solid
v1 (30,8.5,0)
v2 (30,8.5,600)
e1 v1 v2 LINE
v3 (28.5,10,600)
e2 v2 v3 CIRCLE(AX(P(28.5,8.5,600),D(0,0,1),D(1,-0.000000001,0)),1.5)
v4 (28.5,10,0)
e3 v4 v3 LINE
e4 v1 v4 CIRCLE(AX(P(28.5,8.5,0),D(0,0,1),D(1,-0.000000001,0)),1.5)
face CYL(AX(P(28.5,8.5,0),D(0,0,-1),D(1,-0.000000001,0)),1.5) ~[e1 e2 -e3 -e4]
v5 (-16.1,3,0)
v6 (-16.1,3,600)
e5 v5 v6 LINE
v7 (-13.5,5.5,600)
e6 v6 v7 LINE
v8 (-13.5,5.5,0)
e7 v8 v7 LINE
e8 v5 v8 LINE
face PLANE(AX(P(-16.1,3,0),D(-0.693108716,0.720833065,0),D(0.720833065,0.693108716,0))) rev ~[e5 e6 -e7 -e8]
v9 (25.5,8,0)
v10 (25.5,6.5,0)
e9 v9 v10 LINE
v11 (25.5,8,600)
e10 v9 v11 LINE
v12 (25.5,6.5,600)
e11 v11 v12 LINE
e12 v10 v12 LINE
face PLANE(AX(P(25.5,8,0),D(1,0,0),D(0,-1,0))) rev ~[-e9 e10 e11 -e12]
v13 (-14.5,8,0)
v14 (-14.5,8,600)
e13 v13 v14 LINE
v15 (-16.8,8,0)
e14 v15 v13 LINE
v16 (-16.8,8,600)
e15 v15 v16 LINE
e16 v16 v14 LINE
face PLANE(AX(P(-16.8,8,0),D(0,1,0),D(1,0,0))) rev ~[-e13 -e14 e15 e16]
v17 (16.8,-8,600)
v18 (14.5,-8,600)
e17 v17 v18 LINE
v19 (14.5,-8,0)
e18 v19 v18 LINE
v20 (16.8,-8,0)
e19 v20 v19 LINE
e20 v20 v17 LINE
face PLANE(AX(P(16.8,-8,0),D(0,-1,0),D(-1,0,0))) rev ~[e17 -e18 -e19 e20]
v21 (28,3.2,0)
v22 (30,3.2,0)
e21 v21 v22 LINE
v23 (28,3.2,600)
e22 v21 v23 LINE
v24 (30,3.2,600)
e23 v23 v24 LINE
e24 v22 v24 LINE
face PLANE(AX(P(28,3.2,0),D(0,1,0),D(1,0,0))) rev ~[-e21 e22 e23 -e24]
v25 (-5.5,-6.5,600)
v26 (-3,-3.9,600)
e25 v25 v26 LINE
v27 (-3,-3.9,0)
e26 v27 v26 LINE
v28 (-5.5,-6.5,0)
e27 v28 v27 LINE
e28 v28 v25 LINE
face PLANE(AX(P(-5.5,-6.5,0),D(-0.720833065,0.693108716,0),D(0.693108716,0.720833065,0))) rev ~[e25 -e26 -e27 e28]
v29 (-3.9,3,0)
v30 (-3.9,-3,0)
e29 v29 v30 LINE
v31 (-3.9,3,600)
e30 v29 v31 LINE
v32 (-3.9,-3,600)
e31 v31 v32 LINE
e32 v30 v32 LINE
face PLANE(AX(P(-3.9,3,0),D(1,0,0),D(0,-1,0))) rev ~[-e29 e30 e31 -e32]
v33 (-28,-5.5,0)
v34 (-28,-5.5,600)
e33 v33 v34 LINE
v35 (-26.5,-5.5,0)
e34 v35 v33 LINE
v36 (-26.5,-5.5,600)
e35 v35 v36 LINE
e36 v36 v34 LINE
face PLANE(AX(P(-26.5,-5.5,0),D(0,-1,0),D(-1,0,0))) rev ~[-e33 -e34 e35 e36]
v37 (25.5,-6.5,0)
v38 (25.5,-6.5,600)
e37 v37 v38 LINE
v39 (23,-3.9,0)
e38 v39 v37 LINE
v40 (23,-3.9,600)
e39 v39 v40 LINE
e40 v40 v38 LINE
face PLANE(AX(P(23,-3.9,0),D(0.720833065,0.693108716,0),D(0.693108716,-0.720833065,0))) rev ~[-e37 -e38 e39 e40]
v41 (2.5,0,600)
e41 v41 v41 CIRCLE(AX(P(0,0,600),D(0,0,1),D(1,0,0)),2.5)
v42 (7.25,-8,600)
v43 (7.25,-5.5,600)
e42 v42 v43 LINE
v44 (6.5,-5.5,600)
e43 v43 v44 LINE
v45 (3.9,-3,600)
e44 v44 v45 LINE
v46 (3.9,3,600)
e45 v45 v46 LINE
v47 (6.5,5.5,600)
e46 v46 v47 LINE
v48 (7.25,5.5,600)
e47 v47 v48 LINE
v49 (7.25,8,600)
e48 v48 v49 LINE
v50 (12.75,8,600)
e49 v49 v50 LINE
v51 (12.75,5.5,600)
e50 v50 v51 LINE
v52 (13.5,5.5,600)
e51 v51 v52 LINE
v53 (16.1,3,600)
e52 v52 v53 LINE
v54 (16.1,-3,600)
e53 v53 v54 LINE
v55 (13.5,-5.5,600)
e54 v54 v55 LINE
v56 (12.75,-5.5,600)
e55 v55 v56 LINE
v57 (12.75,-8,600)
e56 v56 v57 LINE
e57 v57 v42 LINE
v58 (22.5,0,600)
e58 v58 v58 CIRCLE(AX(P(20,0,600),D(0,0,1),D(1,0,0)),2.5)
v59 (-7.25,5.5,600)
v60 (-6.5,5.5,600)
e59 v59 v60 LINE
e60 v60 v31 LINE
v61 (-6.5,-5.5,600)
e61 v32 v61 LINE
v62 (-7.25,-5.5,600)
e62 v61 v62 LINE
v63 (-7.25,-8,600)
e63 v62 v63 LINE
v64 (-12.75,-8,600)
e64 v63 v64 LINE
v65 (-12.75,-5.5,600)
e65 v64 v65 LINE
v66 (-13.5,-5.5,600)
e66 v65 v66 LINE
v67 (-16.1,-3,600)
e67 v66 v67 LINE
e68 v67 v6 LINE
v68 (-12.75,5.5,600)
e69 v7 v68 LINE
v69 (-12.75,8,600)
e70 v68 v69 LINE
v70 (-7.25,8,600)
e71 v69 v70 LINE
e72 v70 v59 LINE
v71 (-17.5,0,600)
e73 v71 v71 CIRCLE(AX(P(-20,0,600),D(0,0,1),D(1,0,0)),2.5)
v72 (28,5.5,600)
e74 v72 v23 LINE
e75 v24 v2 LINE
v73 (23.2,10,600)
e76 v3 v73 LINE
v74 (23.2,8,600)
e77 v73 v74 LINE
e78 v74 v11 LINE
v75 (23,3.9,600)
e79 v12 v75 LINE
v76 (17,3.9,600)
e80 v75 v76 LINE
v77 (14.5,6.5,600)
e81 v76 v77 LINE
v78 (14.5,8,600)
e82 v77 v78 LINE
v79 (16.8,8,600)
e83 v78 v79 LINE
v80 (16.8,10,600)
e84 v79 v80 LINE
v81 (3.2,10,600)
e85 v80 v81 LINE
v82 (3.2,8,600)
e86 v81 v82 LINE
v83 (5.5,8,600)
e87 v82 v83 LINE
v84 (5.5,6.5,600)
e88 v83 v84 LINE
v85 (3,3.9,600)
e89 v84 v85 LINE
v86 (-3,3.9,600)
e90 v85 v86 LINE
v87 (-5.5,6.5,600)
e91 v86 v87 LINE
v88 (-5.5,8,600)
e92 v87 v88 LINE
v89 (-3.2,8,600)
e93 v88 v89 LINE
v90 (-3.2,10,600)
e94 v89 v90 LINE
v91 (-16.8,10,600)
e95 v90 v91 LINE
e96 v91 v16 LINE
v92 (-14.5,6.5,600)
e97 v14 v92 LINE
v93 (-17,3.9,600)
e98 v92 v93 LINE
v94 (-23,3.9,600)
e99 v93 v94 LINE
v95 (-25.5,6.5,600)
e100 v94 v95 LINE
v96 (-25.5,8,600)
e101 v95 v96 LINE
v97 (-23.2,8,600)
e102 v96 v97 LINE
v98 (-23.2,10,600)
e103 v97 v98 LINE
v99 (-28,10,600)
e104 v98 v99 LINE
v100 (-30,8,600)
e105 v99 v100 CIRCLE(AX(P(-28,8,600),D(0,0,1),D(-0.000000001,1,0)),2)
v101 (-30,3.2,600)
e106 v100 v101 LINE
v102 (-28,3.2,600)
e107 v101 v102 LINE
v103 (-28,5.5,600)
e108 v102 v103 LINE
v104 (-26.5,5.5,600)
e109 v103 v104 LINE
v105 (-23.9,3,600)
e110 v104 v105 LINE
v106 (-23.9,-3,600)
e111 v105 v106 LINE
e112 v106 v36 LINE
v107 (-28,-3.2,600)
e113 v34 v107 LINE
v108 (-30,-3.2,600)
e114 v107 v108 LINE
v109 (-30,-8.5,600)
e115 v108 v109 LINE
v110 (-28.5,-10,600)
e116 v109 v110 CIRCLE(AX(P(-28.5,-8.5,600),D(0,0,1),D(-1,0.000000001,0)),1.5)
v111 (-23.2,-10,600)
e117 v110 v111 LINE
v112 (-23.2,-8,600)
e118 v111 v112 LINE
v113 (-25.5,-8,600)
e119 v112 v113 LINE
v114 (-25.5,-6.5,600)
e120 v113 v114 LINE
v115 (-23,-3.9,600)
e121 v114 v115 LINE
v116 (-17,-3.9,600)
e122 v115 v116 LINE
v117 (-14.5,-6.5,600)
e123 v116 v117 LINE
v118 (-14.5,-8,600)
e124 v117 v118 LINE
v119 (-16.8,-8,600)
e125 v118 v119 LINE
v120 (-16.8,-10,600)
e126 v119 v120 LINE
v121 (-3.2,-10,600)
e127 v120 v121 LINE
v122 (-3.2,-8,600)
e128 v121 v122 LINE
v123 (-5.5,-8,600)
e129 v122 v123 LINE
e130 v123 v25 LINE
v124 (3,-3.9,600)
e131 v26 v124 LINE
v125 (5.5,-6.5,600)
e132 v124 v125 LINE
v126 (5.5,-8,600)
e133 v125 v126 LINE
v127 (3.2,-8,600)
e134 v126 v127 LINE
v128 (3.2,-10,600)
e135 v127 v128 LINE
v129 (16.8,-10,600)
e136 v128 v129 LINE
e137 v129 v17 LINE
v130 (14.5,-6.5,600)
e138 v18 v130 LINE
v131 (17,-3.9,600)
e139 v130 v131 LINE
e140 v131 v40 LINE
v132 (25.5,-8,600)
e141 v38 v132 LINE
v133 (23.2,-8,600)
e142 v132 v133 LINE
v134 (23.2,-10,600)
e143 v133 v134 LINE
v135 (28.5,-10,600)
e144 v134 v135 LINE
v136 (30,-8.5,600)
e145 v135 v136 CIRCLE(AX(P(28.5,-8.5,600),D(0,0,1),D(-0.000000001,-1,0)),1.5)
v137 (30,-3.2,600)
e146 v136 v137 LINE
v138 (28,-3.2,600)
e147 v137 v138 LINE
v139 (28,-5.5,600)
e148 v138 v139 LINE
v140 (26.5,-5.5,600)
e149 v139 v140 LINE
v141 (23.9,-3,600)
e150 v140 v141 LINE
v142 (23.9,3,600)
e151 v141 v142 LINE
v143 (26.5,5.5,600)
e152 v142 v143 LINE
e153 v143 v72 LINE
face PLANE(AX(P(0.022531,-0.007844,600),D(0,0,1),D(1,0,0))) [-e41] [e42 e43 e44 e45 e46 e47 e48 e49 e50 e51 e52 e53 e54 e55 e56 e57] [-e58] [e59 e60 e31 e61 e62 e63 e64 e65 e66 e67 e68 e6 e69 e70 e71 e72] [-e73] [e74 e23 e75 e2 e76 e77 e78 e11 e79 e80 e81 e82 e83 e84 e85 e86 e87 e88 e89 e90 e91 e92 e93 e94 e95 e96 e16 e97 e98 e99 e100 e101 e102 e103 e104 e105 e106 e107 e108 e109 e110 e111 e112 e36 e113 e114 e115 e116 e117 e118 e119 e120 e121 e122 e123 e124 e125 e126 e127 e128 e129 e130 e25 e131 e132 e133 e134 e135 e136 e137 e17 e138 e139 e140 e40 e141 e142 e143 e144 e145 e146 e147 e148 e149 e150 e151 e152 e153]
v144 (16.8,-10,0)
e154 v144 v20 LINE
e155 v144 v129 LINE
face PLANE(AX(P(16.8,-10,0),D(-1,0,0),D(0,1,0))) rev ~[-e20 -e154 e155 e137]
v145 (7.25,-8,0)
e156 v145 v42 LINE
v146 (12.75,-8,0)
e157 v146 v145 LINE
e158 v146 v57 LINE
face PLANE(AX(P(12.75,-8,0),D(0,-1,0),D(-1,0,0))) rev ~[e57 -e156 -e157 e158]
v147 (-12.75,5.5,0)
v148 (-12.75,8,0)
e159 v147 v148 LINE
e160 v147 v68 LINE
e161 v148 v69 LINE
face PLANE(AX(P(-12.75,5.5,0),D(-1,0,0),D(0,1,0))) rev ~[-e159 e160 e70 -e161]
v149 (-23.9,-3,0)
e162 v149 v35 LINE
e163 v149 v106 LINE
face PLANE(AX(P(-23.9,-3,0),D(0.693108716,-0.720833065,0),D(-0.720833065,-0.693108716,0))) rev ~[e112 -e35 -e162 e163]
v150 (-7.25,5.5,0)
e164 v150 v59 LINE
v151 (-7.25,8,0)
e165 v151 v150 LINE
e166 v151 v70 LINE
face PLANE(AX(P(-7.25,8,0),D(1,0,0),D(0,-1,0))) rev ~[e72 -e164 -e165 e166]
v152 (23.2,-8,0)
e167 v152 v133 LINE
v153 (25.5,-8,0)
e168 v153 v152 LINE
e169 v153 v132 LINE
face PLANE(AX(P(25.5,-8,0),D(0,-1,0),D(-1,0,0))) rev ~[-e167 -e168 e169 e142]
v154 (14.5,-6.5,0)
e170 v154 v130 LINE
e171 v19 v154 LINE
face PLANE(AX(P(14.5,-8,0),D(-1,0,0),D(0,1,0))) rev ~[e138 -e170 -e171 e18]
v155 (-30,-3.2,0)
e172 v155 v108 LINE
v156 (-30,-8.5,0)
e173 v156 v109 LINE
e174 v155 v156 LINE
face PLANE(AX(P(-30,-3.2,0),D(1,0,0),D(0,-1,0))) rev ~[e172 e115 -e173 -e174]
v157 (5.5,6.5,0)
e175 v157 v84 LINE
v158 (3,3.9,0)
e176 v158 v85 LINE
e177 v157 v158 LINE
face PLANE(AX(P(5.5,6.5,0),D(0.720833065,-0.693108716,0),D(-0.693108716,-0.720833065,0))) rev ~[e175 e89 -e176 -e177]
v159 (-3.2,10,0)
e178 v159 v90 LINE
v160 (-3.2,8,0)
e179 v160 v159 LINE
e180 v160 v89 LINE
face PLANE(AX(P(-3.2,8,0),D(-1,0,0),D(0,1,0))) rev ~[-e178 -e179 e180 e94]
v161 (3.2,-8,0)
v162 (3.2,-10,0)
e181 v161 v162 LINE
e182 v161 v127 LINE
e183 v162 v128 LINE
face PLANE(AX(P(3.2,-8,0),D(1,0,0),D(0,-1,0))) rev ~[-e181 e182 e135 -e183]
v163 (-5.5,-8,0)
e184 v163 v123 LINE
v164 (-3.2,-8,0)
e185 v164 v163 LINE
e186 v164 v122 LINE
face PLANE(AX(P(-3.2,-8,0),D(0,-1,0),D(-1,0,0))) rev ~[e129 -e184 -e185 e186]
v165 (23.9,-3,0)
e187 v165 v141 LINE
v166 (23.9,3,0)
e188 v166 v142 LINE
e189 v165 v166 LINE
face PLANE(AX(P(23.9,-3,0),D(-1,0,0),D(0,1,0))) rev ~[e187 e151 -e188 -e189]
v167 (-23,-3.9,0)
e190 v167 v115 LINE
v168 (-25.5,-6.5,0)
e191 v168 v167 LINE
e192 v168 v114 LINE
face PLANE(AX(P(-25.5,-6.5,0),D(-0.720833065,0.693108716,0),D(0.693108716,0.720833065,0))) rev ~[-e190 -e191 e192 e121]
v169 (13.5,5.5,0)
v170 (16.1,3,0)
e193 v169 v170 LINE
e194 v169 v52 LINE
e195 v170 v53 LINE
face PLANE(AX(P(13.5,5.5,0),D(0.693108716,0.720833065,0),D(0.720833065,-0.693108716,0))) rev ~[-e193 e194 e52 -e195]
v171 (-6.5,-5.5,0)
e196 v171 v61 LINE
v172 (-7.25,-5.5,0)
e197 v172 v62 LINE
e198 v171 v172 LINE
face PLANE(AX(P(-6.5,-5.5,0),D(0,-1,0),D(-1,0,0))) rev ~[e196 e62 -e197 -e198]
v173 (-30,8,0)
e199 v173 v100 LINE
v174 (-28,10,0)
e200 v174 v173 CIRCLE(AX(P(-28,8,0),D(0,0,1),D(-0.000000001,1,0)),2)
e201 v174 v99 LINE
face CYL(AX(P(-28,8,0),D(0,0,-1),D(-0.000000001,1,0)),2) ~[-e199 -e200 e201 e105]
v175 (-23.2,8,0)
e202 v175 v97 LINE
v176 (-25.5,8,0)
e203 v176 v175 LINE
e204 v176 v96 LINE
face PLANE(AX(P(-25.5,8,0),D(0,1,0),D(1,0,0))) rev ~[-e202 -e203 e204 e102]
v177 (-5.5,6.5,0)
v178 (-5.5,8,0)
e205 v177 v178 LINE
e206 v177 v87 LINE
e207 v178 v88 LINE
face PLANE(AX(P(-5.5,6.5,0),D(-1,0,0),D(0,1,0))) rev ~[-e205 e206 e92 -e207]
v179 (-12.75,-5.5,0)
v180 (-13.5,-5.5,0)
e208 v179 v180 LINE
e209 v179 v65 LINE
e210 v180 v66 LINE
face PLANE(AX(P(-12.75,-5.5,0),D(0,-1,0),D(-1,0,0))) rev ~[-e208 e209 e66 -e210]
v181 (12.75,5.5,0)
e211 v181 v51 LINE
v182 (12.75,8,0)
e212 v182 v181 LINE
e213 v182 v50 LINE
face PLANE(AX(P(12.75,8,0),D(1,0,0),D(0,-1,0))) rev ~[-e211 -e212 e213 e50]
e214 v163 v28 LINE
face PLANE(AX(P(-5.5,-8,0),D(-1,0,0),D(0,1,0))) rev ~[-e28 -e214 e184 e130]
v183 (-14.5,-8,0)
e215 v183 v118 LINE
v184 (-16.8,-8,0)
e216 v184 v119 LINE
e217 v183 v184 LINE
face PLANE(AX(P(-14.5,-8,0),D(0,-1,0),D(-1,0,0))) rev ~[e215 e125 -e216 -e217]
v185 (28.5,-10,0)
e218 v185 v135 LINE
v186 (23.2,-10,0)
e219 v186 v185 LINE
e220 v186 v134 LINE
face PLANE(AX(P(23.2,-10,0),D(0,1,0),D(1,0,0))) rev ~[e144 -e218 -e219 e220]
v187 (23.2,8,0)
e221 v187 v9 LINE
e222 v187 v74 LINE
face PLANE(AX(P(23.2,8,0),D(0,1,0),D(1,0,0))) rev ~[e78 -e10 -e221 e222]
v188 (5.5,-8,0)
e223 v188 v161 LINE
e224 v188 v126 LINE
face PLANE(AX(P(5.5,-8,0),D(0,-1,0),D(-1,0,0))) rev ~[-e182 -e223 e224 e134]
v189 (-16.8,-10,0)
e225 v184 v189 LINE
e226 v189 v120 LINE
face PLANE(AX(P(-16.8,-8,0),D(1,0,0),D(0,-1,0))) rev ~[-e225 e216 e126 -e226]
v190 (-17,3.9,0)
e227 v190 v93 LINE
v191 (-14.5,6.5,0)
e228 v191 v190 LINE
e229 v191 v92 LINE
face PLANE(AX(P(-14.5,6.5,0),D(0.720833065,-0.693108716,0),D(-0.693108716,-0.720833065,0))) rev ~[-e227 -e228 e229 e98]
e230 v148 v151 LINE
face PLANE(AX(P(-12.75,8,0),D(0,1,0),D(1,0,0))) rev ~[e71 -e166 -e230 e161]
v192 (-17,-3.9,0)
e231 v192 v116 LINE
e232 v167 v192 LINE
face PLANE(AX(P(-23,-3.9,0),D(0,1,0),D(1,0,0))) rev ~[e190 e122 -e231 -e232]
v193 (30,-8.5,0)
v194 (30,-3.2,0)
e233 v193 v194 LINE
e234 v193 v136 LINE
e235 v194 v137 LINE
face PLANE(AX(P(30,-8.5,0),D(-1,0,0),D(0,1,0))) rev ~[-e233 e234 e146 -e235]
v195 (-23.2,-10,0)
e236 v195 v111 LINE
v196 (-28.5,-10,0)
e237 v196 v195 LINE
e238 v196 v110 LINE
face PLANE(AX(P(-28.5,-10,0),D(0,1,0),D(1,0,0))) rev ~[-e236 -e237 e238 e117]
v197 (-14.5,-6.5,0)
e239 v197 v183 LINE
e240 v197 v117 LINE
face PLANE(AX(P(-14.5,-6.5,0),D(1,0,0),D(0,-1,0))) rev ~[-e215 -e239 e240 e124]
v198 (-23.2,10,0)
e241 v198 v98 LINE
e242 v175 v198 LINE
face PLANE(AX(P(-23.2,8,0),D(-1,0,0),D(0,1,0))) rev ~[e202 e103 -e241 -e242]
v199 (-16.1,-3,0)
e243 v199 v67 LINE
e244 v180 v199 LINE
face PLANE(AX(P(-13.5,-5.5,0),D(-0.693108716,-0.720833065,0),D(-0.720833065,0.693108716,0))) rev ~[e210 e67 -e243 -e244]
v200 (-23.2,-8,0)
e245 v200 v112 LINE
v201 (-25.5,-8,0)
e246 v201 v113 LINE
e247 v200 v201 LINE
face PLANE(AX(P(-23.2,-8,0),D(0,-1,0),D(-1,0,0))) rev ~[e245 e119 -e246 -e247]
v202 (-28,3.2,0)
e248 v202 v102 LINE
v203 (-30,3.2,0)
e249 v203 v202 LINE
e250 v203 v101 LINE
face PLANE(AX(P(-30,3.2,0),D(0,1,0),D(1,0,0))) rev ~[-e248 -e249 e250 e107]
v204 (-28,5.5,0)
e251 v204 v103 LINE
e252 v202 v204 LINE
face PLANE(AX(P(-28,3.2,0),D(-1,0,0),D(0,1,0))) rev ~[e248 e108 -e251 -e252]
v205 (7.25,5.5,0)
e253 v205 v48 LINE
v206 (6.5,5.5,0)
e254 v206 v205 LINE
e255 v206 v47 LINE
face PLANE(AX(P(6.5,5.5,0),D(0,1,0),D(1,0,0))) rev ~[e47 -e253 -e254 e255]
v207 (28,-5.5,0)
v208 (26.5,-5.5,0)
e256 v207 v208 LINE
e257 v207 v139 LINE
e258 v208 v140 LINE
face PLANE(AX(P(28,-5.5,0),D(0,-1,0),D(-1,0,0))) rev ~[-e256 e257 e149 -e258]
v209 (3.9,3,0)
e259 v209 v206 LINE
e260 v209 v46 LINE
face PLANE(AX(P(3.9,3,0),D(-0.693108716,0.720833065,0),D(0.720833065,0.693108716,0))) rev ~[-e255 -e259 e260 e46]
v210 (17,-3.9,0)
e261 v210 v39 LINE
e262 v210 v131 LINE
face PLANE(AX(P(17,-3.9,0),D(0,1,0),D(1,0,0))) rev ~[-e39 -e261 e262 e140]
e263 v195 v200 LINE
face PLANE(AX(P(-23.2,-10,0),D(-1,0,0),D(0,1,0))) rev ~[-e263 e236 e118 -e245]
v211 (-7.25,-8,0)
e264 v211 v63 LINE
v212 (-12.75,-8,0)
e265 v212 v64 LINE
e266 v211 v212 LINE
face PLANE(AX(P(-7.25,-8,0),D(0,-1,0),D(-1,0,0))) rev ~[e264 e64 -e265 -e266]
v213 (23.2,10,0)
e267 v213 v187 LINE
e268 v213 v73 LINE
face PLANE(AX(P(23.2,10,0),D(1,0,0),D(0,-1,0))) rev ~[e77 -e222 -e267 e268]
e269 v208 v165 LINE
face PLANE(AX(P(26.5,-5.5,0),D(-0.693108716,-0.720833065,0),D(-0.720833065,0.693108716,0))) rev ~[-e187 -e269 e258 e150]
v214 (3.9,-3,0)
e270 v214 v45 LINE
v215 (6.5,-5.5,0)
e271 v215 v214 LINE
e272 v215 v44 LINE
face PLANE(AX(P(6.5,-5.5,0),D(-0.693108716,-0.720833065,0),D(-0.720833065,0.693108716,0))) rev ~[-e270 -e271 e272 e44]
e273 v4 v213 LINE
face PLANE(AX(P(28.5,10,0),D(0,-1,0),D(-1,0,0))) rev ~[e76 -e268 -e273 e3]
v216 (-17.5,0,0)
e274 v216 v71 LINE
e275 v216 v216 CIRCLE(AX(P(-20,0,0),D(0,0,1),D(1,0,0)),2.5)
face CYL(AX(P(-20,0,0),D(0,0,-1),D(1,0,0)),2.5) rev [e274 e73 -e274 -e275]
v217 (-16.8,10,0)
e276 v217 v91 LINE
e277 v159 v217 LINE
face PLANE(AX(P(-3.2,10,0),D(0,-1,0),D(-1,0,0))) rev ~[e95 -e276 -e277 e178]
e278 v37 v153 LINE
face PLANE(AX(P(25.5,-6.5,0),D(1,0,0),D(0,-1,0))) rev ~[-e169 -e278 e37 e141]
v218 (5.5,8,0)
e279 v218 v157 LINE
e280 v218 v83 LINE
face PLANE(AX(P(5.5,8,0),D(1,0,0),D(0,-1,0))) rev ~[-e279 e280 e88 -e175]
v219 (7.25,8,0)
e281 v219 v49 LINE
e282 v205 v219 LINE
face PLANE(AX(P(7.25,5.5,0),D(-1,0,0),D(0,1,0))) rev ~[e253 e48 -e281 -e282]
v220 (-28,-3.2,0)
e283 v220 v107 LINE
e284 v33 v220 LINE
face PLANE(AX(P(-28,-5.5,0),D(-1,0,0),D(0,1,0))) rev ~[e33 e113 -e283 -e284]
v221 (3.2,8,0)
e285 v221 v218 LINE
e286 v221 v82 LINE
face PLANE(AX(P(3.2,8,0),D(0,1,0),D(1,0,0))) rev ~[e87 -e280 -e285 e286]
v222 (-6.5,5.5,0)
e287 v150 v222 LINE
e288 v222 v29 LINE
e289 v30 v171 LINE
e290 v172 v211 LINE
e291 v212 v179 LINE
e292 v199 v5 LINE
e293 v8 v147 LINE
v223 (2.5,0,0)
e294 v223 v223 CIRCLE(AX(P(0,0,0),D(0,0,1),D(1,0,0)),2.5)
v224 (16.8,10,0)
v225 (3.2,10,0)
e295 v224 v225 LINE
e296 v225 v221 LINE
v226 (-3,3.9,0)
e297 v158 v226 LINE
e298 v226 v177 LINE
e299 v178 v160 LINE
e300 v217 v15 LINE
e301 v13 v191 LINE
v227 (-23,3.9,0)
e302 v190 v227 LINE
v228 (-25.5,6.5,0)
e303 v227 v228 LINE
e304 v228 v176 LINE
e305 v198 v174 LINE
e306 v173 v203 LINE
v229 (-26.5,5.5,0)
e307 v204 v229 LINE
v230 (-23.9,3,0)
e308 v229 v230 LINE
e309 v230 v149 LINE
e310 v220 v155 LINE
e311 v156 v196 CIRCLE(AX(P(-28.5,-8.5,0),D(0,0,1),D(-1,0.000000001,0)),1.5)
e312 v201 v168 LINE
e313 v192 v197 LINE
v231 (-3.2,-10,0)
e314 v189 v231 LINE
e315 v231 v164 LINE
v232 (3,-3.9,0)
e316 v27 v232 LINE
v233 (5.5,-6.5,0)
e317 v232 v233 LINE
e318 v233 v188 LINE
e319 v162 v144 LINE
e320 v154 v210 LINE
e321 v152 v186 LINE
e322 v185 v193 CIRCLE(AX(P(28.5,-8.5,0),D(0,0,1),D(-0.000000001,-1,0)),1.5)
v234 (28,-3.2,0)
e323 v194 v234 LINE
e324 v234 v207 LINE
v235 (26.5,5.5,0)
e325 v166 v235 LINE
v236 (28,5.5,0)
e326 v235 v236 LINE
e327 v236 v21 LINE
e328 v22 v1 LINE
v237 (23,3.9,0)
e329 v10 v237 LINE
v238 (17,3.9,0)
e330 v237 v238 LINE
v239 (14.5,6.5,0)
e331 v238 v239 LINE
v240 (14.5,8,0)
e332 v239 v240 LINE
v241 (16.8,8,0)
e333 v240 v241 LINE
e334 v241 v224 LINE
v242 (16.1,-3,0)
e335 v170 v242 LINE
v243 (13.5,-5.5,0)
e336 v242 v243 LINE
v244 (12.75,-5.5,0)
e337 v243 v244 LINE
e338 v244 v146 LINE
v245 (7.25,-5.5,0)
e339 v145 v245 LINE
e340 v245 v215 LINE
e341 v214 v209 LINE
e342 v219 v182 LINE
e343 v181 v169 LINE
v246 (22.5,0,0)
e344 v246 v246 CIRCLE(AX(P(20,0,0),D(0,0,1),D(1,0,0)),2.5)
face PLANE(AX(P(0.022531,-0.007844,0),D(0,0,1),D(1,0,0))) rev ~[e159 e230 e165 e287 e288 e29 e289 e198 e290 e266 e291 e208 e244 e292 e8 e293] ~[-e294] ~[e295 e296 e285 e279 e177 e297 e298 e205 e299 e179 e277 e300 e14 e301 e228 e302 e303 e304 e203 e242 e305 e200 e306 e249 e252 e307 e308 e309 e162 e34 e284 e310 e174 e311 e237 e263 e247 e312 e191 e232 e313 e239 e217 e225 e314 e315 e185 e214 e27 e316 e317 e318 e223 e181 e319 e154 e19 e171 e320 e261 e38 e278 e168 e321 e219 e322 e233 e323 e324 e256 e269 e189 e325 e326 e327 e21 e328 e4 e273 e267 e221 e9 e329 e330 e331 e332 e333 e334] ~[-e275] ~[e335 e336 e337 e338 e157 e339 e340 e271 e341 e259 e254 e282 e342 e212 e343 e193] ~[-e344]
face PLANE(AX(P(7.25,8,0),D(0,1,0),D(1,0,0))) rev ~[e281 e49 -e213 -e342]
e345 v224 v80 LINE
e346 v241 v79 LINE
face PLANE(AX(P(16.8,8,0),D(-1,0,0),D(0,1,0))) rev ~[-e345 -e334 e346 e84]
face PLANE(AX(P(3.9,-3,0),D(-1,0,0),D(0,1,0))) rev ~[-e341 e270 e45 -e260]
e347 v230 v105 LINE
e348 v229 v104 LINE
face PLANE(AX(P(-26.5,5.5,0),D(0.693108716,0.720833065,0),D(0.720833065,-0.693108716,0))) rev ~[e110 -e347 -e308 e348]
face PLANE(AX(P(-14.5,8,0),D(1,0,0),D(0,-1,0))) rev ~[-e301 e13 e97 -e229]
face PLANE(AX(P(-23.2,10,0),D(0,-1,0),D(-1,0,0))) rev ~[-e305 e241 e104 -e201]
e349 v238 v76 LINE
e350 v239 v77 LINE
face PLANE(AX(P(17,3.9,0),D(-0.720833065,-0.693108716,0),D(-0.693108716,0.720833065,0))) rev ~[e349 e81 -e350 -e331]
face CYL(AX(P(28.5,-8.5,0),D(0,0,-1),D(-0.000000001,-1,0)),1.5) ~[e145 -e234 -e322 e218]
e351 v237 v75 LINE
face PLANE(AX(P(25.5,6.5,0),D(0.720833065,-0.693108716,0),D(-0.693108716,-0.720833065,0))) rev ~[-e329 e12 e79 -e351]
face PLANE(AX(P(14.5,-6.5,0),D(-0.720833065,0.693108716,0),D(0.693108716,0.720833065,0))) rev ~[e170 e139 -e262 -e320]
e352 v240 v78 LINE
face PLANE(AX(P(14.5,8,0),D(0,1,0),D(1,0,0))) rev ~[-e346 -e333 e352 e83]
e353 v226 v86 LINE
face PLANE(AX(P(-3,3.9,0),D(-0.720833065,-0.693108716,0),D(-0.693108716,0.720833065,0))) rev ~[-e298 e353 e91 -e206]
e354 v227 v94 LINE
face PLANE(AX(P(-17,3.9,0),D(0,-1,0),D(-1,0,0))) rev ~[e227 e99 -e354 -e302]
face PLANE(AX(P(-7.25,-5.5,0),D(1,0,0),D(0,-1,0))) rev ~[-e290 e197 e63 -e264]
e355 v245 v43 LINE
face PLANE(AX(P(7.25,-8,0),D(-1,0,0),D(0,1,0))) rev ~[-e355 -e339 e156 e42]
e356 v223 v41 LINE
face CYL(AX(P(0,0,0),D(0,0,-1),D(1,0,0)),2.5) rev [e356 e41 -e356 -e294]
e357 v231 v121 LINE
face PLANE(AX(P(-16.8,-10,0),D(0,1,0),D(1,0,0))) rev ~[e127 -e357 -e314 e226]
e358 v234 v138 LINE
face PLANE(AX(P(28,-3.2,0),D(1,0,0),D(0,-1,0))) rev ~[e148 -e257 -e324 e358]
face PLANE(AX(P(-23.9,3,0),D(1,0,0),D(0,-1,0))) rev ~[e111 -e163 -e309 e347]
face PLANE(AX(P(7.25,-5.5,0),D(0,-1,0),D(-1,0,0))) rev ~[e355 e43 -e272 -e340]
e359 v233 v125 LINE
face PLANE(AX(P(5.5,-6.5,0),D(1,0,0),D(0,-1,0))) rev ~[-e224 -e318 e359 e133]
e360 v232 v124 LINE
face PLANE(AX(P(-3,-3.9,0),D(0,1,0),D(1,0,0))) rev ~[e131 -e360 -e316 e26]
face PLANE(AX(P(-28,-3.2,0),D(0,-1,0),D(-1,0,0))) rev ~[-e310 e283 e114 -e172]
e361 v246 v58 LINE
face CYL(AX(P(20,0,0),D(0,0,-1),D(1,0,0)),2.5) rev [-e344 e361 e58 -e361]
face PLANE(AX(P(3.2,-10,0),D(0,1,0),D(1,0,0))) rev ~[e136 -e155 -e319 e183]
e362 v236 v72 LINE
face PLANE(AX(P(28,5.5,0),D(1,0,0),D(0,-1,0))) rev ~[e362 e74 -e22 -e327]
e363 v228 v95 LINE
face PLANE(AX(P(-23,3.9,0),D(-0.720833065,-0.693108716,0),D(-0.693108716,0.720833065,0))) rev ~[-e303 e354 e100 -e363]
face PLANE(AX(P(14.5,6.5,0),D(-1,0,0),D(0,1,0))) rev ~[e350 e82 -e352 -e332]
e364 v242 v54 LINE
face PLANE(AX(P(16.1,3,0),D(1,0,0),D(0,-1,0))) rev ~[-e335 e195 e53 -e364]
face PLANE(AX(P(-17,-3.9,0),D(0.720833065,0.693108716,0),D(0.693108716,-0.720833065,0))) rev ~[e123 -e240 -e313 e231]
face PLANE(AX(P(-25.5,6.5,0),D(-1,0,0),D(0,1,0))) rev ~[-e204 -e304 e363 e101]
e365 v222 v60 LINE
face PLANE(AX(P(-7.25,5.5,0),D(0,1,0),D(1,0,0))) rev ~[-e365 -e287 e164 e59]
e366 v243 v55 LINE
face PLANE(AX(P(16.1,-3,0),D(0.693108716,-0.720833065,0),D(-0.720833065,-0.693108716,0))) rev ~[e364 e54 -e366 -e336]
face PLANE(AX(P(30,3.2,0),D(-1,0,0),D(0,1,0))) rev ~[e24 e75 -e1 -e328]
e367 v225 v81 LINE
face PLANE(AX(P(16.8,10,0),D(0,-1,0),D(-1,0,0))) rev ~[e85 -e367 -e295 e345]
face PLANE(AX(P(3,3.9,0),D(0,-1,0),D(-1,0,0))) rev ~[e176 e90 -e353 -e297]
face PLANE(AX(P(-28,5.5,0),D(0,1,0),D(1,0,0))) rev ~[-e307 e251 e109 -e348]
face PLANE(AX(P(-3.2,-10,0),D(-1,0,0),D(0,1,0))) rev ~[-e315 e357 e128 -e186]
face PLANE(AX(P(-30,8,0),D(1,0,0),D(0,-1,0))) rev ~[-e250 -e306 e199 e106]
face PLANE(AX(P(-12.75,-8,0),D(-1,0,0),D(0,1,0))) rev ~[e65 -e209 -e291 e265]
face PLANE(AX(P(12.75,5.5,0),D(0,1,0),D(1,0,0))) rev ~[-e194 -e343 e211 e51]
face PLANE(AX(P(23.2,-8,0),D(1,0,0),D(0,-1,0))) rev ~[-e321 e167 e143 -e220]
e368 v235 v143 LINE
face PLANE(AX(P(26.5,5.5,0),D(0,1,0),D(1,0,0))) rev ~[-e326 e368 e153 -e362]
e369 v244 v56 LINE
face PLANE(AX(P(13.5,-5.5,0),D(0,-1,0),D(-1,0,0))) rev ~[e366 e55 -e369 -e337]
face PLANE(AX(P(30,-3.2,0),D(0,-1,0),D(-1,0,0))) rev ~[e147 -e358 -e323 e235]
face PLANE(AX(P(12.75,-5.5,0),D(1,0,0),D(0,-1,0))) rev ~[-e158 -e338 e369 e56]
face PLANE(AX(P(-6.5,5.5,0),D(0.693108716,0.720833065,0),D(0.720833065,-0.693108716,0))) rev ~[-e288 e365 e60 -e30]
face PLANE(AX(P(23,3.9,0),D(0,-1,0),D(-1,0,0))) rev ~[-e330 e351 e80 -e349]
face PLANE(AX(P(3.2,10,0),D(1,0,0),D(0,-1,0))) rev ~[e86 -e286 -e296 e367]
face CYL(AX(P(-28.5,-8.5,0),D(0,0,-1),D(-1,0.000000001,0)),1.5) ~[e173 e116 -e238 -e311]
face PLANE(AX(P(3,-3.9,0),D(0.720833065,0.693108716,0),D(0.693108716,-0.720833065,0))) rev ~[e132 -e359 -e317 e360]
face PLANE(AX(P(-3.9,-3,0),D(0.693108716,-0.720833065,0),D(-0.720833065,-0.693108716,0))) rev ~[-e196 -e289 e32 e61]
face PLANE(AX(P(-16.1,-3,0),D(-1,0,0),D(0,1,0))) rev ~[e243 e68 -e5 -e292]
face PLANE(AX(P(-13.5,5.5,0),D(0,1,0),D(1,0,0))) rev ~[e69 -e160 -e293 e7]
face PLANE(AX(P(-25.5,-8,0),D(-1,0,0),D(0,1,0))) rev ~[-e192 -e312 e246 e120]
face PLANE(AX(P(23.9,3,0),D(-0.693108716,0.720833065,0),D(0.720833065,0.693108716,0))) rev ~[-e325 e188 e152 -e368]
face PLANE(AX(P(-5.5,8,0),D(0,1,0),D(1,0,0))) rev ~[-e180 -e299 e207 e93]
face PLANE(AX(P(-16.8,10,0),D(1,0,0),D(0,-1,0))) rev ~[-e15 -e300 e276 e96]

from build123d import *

# Parameters (mm, degrees)
SKETCH_1_R      = 2.5
EXTRUDE_2_DEPTH = 600


with BuildPart() as part:
    # 草图1 → 凸台-拉伸2 (new body)
    with BuildSketch(Plane.XY):
        with BuildLine():
            Line((-23.2, 10), (-28, 10))
            ThreePointArc((-28, 10), (-29.414213562, 9.414213562), (-30, 8))
            Line((-30, 8), (-30, 3.2))
            Line((-30, 3.2), (-28, 3.2))
            Line((-28, 3.2), (-28, 5.5))
            Line((-28, 5.5), (-26.5, 5.5))
            Line((-26.5, 5.5), (-23.9, 3))
            Line((-23.9, 3), (-23.9, -3))
            Line((-23.9, -3), (-26.5, -5.5))
            Line((-26.5, -5.5), (-28, -5.5))
            Line((-28, -5.5), (-28, -3.2))
            Line((-28, -3.2), (-30, -3.2))
            Line((-30, -3.2), (-30, -8.5))
            ThreePointArc((-30, -8.5), (-29.560660172, -9.560660172), (-28.5, -10))
            Line((-28.5, -10), (-23.2, -10))
            Line((-23.2, -10), (-23.2, -8))
            Line((-23.2, -8), (-25.5, -8))
            Line((-25.5, -8), (-25.5, -6.5))
            Line((-25.5, -6.5), (-23, -3.9))
            Line((-23, -3.9), (-17, -3.9))
            Line((-17, -3.9), (-14.5, -6.5))
            Line((-14.5, -6.5), (-14.5, -8))
            Line((-14.5, -8), (-16.8, -8))
            Line((-16.8, -8), (-16.8, -10))
            Line((-16.8, -10), (-3.2, -10))
            Line((-3.2, -10), (-3.2, -8))
            Line((-3.2, -8), (-5.5, -8))
            Line((-5.5, -8), (-5.5, -6.5))
            Line((-5.5, -6.5), (-3, -3.9))
            Line((-3, -3.9), (3, -3.9))
            Line((3, -3.9), (5.5, -6.5))
            Line((5.5, -6.5), (5.5, -8))
            Line((5.5, -8), (3.2, -8))
            Line((3.2, -8), (3.2, -10))
            Line((3.2, -10), (16.8, -10))
            Line((16.8, -10), (16.8, -8))
            Line((16.8, -8), (14.5, -8))
            Line((14.5, -8), (14.5, -6.5))
            Line((14.5, -6.5), (17, -3.9))
            Line((17, -3.9), (23, -3.9))
            Line((23, -3.9), (25.5, -6.5))
            Line((25.5, -6.5), (25.5, -8))
            Line((25.5, -8), (23.2, -8))
            Line((23.2, -8), (23.2, -10))
            Line((23.2, -10), (28.5, -10))
            ThreePointArc((28.5, -10), (29.560660172, -9.560660172), (30, -8.5))
            Line((30, -8.5), (30, -3.2))
            Line((30, -3.2), (28, -3.2))
            Line((28, -3.2), (28, -5.5))
            Line((28, -5.5), (26.5, -5.5))
            Line((26.5, -5.5), (23.9, -3))
            Line((23.9, -3), (23.9, 3))
            Line((23.9, 3), (26.5, 5.5))
            Line((26.5, 5.5), (28, 5.5))
            Line((28, 5.5), (28, 3.2))
            Line((28, 3.2), (30, 3.2))
            Line((30, 3.2), (30, 8.5))
            ThreePointArc((30, 8.5), (29.560660172, 9.560660172), (28.5, 10))
            Line((28.5, 10), (23.2, 10))
            Line((23.2, 10), (23.2, 8))
            Line((23.2, 8), (25.5, 8))
            Line((25.5, 8), (25.5, 6.5))
            Line((25.5, 6.5), (23, 3.9))
            Line((23, 3.9), (17, 3.9))
            Line((17, 3.9), (14.5, 6.5))
            Line((14.5, 6.5), (14.5, 8))
            Line((14.5, 8), (16.8, 8))
            Line((16.8, 8), (16.8, 10))
            Line((16.8, 10), (3.2, 10))
            Line((3.2, 10), (3.2, 8))
            Line((3.2, 8), (5.5, 8))
            Line((5.5, 8), (5.5, 6.5))
            Line((5.5, 6.5), (3, 3.9))
            Line((3, 3.9), (-3, 3.9))
            Line((-3, 3.9), (-5.5, 6.5))
            Line((-5.5, 6.5), (-5.5, 8))
            Line((-5.5, 8), (-3.2, 8))
            Line((-3.2, 8), (-3.2, 10))
            Line((-3.2, 10), (-16.8, 10))
            Line((-16.8, 10), (-16.8, 8))
            Line((-16.8, 8), (-14.5, 8))
            Line((-14.5, 8), (-14.5, 6.5))
            Line((-14.5, 6.5), (-17, 3.9))
            Line((-17, 3.9), (-23, 3.9))
            Line((-23, 3.9), (-25.5, 6.5))
            Line((-25.5, 6.5), (-25.5, 8))
            Line((-25.5, 8), (-23.2, 8))
            Line((-23.2, 8), (-23.2, 10))
        make_face()
        Polygon((-12.75, -8), (-12.75, -5.5), (-13.5, -5.5), (-16.1, -3), (-16.1, 3), (-13.5, 5.5), (-12.75, 5.5), (-12.75, 8), (-7.25, 8), (-7.25, 5.5), (-6.5, 5.5), (-3.9, 3), (-3.9, -3), (-6.5, -5.5), (-7.25, -5.5), (-7.25, -8), align=None, mode=Mode.SUBTRACT)
        Polygon((6.5, -5.5), (3.9, -3), (3.9, 3), (6.5, 5.5), (7.25, 5.5), (7.25, 8), (12.75, 8), (12.75, 5.5), (13.5, 5.5), (16.1, 3), (16.1, -3), (13.5, -5.5), (12.75, -5.5), (12.75, -8), (7.25, -8), (7.25, -5.5), align=None, mode=Mode.SUBTRACT)
        with Locations((20, 0)):
            Circle(SKETCH_1_R, mode=Mode.SUBTRACT)
        with Locations((-20, 0)):
            Circle(SKETCH_1_R, mode=Mode.SUBTRACT)
        Circle(SKETCH_1_R, mode=Mode.SUBTRACT)
    extrude(amount=EXTRUDE_2_DEPTH)


solid = part.part
